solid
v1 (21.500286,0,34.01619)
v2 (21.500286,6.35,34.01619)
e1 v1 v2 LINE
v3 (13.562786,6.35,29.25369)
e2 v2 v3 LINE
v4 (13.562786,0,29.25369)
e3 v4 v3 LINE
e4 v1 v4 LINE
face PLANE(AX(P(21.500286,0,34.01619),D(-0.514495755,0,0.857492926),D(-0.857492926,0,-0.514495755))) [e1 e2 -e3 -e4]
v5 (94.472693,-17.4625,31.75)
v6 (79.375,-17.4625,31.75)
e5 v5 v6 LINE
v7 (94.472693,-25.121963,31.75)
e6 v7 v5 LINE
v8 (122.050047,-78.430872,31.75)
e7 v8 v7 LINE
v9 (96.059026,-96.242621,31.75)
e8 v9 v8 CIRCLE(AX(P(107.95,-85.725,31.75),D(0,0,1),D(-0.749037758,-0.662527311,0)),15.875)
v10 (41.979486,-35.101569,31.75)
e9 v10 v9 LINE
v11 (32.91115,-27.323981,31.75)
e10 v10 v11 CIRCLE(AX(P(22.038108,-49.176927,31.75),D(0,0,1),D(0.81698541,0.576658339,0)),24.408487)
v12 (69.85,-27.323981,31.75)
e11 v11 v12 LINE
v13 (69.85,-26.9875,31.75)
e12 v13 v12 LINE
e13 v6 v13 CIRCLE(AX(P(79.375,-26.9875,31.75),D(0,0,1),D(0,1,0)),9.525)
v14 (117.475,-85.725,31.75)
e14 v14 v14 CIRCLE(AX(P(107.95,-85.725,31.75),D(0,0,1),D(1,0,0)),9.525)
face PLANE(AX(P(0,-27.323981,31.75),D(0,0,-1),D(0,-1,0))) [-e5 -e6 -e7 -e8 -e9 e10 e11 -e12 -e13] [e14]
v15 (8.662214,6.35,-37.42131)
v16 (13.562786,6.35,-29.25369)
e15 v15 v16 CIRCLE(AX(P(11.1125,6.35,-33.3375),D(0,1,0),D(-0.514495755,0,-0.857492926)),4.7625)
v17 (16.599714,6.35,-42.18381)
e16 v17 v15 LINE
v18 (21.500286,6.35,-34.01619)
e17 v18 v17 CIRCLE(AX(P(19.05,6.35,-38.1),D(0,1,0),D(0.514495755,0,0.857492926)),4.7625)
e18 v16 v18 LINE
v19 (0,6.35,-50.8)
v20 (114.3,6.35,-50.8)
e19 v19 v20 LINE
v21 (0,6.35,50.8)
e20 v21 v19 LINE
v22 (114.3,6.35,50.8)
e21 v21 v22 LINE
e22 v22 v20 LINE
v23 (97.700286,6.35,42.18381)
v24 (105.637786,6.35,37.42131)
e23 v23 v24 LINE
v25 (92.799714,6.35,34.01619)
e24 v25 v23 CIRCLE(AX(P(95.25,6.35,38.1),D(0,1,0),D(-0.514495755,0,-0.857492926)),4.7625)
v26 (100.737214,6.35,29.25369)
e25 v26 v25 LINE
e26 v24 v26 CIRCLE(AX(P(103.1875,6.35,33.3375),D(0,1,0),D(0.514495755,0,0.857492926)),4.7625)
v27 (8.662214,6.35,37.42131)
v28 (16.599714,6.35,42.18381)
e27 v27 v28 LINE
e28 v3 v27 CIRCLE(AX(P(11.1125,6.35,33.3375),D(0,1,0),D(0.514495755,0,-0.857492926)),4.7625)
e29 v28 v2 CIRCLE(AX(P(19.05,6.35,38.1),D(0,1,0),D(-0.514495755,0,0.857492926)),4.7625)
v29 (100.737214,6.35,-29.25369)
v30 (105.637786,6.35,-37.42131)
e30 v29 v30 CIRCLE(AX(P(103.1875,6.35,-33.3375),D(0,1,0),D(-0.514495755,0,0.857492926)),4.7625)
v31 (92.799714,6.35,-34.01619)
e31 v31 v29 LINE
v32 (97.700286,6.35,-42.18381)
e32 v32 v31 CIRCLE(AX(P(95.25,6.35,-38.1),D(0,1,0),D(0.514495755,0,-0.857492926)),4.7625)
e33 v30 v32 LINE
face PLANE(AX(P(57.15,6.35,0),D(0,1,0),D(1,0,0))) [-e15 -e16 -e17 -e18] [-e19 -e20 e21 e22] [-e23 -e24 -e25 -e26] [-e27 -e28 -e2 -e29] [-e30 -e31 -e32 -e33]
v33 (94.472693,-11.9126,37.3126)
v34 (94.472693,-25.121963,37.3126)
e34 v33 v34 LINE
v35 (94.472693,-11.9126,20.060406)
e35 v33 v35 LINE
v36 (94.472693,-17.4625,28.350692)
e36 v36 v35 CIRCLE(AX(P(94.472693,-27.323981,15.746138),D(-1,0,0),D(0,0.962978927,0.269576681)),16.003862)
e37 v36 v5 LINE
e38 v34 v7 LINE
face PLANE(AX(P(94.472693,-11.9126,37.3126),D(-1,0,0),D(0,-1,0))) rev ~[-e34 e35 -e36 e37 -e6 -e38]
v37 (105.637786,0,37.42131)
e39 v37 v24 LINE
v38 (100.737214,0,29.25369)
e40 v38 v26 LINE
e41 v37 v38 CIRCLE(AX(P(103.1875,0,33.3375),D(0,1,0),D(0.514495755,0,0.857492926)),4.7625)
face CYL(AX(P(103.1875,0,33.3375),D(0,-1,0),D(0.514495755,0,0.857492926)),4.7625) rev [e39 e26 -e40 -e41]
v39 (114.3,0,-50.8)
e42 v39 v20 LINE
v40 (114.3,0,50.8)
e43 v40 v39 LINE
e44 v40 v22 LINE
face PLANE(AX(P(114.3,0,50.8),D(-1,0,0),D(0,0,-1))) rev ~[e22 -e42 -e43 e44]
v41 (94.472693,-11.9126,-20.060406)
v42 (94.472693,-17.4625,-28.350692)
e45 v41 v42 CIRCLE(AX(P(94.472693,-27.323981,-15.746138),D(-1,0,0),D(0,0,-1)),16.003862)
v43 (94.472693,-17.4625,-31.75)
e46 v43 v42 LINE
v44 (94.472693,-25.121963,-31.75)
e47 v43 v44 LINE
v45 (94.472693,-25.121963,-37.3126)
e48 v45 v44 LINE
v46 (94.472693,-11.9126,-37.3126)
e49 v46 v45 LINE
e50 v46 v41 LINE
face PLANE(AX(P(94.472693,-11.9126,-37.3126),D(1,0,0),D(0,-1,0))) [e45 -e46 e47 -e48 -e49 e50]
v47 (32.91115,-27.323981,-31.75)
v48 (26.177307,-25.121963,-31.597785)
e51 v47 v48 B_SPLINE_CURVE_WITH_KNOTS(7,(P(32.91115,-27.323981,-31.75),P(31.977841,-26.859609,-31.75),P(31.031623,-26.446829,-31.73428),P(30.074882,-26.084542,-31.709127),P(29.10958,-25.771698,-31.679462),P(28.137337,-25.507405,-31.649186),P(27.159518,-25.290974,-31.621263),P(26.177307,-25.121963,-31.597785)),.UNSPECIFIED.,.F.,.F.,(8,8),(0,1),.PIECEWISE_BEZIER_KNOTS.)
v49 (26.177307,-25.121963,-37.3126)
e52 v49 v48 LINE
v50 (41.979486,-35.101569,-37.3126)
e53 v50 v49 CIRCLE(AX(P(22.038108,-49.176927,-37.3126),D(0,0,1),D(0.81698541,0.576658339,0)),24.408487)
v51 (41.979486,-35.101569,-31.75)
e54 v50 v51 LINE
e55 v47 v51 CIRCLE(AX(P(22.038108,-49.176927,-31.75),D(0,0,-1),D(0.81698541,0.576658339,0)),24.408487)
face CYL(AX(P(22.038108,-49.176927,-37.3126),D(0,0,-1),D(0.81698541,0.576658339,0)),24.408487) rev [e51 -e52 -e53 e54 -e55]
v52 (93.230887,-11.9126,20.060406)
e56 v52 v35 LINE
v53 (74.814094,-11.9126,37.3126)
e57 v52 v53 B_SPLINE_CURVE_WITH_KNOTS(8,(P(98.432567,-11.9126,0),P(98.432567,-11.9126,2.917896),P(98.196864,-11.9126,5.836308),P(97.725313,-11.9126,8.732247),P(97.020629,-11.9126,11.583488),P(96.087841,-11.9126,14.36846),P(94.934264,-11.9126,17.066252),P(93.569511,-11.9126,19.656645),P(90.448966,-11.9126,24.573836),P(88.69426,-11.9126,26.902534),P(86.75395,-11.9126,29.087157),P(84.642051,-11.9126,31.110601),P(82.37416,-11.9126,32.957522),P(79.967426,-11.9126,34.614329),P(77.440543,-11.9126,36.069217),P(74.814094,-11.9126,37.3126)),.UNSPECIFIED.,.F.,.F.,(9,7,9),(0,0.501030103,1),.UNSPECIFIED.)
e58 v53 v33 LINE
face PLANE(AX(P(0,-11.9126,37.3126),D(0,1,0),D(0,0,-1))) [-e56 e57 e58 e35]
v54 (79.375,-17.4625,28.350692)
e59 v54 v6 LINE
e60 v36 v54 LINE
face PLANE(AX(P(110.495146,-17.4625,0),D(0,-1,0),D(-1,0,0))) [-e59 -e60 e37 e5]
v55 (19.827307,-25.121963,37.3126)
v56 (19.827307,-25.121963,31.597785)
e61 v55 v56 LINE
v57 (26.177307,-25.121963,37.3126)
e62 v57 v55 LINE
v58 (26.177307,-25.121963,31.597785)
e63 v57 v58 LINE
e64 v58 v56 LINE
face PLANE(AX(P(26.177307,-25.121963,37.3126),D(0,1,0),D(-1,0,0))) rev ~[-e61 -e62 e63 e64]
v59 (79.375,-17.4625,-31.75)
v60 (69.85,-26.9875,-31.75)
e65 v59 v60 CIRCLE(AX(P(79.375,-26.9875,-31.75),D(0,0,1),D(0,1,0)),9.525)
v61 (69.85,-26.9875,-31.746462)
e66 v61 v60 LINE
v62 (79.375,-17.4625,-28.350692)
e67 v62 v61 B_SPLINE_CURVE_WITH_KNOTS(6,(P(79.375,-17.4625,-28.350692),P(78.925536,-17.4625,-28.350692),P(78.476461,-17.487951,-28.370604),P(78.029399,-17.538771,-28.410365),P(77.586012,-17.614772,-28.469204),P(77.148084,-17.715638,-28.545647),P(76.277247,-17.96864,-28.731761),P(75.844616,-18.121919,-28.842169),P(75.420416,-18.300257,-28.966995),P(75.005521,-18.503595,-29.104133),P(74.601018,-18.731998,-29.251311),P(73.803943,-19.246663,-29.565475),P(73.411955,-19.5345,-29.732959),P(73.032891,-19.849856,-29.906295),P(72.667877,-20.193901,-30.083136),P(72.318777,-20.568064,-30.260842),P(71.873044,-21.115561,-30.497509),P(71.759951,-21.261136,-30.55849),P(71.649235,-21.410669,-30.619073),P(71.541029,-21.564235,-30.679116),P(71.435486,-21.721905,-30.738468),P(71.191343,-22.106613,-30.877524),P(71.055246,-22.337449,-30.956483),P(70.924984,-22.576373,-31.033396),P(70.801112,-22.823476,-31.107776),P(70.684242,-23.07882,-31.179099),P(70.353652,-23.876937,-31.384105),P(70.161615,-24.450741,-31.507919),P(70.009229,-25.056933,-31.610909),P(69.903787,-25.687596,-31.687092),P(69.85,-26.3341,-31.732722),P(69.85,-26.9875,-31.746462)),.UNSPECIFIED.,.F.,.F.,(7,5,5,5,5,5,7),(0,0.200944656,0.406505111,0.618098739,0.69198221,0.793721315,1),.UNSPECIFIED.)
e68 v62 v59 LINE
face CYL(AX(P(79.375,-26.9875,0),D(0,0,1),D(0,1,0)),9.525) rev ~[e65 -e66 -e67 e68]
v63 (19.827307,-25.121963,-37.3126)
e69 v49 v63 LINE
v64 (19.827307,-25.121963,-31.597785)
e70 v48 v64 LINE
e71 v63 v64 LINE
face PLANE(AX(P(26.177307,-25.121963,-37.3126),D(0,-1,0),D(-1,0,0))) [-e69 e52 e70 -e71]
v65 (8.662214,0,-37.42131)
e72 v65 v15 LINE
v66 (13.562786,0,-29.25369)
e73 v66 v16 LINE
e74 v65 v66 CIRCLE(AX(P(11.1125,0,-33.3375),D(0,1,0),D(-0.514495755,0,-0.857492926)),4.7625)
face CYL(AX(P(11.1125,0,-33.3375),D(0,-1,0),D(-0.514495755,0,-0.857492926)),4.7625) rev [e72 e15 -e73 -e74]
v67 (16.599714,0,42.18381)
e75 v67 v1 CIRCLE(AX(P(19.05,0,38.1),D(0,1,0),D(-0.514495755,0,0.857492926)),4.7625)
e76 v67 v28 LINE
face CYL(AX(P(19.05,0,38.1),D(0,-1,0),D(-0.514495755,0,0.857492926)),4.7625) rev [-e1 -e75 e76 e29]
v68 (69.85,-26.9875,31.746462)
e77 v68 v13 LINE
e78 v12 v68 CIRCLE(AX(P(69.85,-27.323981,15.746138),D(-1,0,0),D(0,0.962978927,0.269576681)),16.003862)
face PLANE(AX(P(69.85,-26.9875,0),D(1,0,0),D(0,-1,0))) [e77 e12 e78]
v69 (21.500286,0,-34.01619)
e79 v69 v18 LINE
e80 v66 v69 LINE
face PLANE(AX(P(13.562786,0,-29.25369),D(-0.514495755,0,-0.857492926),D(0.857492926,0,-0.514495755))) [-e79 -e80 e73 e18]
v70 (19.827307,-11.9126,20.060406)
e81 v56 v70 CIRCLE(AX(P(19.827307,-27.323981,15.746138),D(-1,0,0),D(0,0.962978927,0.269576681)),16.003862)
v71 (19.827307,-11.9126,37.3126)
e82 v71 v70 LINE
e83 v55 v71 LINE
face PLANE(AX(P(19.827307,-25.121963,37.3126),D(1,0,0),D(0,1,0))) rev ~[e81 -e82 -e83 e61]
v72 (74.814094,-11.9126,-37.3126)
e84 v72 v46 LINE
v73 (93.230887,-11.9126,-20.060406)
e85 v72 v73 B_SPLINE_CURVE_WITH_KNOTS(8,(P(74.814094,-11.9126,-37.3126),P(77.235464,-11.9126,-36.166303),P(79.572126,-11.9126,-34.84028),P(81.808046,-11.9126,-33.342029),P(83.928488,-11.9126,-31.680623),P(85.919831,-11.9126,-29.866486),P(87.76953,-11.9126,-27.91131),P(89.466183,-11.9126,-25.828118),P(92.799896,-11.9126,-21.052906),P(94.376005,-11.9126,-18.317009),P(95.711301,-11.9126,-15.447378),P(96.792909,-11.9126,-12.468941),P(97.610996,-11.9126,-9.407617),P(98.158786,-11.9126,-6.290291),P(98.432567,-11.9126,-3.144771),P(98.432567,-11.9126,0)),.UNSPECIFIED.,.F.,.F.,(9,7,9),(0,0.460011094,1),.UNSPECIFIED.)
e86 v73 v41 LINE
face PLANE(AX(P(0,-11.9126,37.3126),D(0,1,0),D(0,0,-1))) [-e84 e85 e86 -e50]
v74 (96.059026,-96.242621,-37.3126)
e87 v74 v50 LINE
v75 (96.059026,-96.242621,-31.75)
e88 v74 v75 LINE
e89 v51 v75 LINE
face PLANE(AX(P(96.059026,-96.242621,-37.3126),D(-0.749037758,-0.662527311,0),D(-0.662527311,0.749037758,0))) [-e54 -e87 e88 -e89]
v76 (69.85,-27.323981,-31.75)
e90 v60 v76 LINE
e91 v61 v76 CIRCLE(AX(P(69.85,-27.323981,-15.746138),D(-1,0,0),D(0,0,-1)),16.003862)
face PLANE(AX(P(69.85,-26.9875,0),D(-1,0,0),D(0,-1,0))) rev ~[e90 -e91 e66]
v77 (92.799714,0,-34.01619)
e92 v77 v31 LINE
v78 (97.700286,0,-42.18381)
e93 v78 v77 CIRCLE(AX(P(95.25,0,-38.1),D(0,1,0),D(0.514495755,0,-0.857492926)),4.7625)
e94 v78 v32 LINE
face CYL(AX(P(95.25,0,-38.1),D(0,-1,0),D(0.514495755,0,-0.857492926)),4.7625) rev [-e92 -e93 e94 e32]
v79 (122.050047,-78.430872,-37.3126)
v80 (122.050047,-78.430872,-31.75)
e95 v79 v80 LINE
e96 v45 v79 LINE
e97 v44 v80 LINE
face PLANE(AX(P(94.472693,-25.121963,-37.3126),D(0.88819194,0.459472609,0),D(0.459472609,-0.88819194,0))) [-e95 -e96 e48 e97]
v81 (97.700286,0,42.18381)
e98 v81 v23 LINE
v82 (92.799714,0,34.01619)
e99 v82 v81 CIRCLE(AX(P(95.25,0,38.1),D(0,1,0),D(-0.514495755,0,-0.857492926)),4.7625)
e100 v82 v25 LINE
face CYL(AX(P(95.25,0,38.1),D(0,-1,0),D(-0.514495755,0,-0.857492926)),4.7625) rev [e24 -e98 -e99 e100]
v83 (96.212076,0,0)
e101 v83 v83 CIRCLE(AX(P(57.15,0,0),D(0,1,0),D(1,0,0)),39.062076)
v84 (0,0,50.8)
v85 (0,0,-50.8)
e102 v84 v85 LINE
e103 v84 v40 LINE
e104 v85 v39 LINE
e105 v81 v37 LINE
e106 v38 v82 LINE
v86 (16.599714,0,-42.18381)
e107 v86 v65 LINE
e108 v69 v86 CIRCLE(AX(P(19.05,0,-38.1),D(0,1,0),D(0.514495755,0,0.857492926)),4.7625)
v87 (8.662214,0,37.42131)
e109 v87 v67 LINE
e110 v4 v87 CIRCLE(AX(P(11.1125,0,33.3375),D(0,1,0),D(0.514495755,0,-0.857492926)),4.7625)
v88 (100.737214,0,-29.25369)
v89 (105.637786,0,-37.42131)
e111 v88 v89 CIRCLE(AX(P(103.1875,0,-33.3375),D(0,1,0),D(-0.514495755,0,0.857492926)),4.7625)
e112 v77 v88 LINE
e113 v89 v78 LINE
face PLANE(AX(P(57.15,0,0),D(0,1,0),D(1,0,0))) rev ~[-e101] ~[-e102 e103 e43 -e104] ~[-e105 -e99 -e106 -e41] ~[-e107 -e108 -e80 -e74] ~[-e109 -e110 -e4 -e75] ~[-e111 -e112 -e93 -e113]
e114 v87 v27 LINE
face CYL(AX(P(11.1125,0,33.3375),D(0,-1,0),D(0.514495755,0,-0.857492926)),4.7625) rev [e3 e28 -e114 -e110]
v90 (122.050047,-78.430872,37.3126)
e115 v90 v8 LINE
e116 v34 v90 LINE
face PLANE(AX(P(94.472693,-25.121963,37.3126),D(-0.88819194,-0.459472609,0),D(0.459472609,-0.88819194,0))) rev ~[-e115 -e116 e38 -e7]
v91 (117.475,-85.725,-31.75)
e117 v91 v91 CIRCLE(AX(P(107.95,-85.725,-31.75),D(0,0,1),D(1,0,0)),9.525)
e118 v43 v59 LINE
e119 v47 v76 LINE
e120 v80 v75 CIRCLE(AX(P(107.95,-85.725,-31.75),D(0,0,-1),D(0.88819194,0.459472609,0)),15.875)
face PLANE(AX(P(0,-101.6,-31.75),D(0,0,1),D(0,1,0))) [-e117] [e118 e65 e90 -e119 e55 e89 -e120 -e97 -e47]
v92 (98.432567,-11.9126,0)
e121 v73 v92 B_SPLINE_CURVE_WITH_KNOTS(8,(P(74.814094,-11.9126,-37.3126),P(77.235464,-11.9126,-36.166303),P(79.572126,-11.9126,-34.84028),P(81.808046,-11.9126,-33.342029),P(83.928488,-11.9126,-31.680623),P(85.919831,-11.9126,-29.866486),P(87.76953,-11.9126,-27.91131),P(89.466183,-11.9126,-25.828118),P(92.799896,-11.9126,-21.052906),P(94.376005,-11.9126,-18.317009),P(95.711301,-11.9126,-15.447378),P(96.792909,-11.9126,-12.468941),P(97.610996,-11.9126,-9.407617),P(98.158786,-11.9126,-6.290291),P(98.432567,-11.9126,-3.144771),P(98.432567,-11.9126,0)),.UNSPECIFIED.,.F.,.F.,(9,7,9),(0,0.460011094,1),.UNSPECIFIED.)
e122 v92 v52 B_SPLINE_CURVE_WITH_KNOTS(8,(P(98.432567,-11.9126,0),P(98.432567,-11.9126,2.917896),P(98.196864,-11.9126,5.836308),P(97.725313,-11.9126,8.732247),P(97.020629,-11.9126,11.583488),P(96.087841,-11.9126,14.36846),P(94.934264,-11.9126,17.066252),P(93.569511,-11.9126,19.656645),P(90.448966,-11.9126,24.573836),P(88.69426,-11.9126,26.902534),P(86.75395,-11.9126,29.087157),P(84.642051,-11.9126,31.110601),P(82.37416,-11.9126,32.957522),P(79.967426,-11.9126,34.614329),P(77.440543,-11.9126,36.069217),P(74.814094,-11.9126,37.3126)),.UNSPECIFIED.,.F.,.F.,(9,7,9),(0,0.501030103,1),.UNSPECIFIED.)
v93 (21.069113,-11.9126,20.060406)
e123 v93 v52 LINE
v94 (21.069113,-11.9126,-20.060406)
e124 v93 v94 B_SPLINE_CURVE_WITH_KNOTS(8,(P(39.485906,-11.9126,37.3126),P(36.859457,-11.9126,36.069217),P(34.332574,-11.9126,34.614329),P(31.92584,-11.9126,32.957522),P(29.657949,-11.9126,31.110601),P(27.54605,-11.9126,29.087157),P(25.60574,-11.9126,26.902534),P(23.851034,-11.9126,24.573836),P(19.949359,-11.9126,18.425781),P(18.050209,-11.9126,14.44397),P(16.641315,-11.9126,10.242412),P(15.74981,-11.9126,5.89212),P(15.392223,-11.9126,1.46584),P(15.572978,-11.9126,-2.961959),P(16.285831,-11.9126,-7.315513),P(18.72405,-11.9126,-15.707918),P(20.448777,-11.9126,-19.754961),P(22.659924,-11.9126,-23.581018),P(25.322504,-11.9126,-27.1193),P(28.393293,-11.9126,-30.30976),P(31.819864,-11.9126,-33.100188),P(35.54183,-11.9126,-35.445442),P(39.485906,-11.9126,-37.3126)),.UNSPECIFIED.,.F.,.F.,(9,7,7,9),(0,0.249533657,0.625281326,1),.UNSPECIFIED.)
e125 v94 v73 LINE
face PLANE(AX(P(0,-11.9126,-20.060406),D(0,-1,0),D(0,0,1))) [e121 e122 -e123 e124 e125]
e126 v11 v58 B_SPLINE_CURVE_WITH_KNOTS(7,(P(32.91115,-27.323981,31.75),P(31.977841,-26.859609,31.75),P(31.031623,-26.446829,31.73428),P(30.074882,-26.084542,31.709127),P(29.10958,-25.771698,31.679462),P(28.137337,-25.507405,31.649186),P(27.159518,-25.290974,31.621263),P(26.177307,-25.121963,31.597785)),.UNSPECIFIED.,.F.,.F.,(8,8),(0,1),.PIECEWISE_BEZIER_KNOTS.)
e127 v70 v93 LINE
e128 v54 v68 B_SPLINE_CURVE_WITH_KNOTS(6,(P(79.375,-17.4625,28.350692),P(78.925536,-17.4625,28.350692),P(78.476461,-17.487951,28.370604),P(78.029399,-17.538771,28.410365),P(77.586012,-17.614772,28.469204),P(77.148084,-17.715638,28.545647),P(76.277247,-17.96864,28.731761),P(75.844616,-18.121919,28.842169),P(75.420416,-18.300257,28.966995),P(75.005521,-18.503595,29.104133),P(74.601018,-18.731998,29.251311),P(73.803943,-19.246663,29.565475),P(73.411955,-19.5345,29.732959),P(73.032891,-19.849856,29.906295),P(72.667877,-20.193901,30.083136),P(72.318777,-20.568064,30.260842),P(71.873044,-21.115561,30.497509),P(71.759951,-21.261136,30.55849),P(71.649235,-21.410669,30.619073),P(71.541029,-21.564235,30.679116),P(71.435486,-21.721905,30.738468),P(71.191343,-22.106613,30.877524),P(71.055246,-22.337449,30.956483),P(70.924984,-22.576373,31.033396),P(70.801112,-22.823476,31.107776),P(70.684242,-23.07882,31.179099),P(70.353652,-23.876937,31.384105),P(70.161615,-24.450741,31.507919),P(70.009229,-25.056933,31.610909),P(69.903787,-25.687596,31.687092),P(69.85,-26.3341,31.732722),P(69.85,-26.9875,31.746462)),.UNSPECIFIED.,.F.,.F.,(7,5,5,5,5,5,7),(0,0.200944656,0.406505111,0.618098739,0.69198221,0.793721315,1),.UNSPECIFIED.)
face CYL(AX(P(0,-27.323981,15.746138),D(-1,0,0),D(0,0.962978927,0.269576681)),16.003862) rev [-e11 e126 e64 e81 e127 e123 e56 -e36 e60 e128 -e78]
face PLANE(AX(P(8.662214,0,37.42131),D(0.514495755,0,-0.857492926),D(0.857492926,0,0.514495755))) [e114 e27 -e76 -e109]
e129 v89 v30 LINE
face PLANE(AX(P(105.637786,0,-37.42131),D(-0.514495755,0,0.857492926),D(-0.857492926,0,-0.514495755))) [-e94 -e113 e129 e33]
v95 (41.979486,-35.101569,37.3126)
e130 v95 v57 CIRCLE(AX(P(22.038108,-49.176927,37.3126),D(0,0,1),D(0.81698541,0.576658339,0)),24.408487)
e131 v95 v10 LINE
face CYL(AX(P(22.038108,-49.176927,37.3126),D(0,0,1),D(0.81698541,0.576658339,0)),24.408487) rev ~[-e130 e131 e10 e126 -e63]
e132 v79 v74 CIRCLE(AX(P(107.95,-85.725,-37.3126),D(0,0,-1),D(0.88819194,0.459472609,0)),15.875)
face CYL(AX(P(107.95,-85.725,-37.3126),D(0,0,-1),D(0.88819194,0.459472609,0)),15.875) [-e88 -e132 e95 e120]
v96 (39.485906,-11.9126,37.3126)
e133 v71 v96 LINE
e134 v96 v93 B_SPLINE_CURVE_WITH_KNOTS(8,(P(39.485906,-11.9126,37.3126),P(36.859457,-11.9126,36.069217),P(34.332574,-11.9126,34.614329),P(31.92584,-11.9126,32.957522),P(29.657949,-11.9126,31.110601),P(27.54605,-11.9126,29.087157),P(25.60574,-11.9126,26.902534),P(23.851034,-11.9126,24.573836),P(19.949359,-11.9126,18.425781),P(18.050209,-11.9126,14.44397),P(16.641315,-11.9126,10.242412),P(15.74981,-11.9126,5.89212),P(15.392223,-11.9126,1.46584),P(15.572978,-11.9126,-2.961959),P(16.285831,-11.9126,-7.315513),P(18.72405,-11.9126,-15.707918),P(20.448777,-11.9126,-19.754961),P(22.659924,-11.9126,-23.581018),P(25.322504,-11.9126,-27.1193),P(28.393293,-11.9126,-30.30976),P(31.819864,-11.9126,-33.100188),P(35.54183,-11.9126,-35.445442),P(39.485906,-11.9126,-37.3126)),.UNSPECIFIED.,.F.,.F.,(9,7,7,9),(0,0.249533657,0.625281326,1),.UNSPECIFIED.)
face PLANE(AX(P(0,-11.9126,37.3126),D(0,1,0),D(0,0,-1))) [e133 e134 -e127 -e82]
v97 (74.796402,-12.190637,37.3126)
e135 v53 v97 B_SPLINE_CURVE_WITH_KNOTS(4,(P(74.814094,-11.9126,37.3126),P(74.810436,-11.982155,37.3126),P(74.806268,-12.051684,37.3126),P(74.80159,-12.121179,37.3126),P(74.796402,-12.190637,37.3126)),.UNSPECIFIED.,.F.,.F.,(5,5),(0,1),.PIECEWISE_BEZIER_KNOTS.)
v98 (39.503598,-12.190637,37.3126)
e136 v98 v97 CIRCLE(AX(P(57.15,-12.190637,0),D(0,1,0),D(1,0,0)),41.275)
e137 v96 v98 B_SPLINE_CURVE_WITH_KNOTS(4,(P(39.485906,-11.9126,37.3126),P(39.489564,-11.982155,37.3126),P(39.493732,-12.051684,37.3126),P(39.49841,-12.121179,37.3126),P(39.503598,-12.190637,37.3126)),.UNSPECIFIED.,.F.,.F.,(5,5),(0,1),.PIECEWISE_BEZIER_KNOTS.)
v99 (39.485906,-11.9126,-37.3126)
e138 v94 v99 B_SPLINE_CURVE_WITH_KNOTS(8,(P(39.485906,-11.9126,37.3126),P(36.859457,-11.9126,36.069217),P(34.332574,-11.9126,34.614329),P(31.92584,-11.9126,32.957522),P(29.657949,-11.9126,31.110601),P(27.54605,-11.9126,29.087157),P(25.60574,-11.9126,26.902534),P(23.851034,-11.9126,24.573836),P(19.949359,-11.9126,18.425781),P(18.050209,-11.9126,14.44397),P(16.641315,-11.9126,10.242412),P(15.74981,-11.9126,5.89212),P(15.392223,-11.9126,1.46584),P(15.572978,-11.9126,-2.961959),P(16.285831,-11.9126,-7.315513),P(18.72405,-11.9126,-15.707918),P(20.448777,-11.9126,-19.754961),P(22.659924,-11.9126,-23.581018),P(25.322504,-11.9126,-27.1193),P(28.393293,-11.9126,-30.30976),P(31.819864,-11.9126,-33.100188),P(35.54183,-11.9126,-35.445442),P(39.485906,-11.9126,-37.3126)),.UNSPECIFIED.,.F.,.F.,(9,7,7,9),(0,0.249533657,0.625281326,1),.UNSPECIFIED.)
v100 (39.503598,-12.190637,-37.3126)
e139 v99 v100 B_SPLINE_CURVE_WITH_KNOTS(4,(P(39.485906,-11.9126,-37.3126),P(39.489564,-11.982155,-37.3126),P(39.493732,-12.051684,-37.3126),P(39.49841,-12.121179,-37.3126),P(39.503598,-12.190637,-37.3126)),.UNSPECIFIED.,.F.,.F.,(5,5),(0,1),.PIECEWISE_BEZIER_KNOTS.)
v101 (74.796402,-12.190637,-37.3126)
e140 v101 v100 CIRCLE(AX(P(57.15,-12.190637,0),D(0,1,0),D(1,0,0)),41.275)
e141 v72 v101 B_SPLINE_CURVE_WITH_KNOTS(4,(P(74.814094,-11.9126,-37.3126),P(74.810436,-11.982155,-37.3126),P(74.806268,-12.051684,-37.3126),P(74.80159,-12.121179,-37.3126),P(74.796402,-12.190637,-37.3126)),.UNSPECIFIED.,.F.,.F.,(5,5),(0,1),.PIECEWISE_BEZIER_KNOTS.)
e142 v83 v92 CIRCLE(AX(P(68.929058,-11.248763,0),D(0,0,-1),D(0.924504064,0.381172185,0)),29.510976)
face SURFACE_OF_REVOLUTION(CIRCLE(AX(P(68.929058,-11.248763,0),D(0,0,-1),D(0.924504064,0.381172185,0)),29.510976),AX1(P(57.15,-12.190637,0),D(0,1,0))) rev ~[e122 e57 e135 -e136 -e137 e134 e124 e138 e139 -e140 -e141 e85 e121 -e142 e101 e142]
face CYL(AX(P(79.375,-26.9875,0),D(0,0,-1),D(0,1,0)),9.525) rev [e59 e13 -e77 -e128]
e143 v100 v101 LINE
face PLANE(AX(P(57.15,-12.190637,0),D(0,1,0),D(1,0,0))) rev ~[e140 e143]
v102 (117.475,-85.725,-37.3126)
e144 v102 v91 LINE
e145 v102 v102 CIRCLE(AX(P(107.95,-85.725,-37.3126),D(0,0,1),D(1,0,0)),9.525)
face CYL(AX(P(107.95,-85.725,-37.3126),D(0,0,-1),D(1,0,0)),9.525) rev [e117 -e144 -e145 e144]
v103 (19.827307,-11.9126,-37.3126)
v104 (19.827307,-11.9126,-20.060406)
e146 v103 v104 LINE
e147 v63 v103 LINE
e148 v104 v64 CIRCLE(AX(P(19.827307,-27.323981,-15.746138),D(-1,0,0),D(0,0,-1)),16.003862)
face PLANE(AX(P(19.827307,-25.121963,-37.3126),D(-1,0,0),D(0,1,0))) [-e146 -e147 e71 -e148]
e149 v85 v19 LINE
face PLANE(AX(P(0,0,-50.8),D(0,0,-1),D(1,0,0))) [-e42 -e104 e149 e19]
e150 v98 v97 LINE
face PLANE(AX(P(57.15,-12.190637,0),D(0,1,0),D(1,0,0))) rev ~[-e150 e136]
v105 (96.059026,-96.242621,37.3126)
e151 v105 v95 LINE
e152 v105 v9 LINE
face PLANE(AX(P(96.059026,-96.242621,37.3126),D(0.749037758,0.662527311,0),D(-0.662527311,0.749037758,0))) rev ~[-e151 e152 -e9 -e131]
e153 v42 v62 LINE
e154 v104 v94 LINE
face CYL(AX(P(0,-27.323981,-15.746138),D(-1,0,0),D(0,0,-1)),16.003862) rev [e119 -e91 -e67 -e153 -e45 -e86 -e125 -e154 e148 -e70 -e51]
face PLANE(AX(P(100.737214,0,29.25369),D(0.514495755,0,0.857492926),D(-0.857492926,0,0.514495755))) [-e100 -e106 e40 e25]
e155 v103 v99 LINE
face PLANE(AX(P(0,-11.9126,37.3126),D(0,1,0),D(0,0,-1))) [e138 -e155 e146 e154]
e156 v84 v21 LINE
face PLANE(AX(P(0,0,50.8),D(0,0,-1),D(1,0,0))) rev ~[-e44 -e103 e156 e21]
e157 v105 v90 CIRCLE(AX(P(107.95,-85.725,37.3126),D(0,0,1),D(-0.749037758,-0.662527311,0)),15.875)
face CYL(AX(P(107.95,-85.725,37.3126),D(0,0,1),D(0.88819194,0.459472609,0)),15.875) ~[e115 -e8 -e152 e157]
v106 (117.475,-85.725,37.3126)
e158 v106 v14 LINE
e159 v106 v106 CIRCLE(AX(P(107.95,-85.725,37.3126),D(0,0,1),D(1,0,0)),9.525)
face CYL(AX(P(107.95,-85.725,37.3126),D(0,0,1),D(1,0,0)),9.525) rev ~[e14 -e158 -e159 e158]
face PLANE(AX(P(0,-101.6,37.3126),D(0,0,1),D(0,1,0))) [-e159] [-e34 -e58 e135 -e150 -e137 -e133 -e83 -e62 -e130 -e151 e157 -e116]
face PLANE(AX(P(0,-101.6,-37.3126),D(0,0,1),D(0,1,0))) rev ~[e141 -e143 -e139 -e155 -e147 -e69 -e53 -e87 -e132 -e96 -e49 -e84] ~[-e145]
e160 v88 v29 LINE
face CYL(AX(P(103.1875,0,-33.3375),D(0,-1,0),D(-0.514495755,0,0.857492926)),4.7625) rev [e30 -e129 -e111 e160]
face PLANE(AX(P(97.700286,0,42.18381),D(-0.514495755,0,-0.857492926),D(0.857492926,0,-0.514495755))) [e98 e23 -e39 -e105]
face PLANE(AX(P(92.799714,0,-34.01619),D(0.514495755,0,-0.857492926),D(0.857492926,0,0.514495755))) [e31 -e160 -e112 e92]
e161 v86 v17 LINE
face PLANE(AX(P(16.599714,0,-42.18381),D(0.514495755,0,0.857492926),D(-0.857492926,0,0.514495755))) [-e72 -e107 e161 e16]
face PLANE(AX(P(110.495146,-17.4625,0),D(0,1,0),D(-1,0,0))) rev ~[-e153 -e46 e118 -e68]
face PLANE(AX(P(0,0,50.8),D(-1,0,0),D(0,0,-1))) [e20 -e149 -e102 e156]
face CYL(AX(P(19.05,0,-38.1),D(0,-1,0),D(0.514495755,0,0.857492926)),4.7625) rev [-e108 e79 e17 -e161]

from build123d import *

# Parameters (mm, degrees)
ESBO_O1_W                  = 114.3
ESBO_O1_H                  = 101.6
RESSALTO_EXTRUS_O1_DEPTH   = 6.35
ESBO_O3_W                  = 74.6252
ESBO_O3_H                  = 89.6874
RESSALTO_EXTRUS_O2_DEPTH   = 129.54
CORTE_EXTRUS_O1_DEPTH      = 129.54
CORTE_EXTRUS_O2_DEPTH      = 17.78
CORTE_EXTRUS_O3_DEPTH      = 17.78
ESBO_O7_R                  = 9.525
CORTE_EXTRUS_O4_DEPTH      = 5.5626
ESBO_O8_R                  = 9.525
CORTE_EXTRUS_O5_DEPTH      = 5.5626
CORTE_EXTRUS_O6_DEPTH      = 31.75
CORTE_EXTRUS_O6_DEPTH_BACK = 31.75


with BuildPart() as part:
    # Esboço1 → Ressalto-extrusão1 (new body)
    with BuildSketch(Plane(origin=(0, 0, 0), x_dir=(1, 0, 0), z_dir=(0, 1, 0))):
        with Locations((57.15, 0)):
            Rectangle(ESBO_O1_W, ESBO_O1_H)
        with BuildLine():
            Line((92.799713965, 34.016189941), (100.737213965, 29.253689941))
            ThreePointArc((100.737213965, 29.253689941), (107.271310059, 30.887213965), (105.637786035, 37.421310059))
            Line((105.637786035, 37.421310059), (97.700286035, 42.183810059))
            ThreePointArc((97.700286035, 42.183810059), (91.166189941, 40.550286035), (92.799713965, 34.016189941))
        make_face(mode=Mode.SUBTRACT)
        with BuildLine():
            Line((97.700286035, -42.183810059), (105.637786035, -37.421310059))
            ThreePointArc((105.637786035, -37.421310059), (107.271310059, -30.887213965), (100.737213965, -29.253689941))
            Line((100.737213965, -29.253689941), (92.799713965, -34.016189941))
            ThreePointArc((92.799713965, -34.016189941), (91.166189941, -40.550286035), (97.700286035, -42.183810059))
        make_face(mode=Mode.SUBTRACT)
        with BuildLine():
            Line((13.562786035, 29.253689941), (21.500286035, 34.016189941))
            ThreePointArc((21.500286035, 34.016189941), (23.133810059, 40.550286035), (16.599713965, 42.183810059))
            Line((16.599713965, 42.183810059), (8.662213965, 37.421310059))
            ThreePointArc((8.662213965, 37.421310059), (7.028689941, 30.887213965), (13.562786035, 29.253689941))
        make_face(mode=Mode.SUBTRACT)
        with BuildLine():
            Line((8.662213965, -37.421310059), (16.599713965, -42.183810059))
            ThreePointArc((16.599713965, -42.183810059), (23.133810059, -40.550286035), (21.500286035, -34.016189941))
            Line((21.500286035, -34.016189941), (13.562786035, -29.253689941))
            ThreePointArc((13.562786035, -29.253689941), (7.028689941, -30.887213965), (8.662213965, -37.421310059))
        make_face(mode=Mode.SUBTRACT)
    extrude(amount=RESSALTO_EXTRUS_O1_DEPTH)

    # Esboço2 → Revolução1 (revolve)
    with BuildSketch(Plane.XY):
        with BuildLine():
            Line((57.15, 0), (96.212075536, 0))
            ThreePointArc((96.212075536, 0), (97.965508733, -5.977876228), (98.425, -12.190637285))
            Line((98.425, -12.190637285), (57.15, -12.190637285))
            Line((57.15, -12.190637285), (57.15, 0))
        make_face()
    revolve(axis=Axis((57.15, -12.190637285, 0), (0, 1, 0)))

    # Esboço3 → Ressalto-extrusão2 (add)
    with BuildSketch(Plane(origin=(0, 0, 0), x_dir=(0, 0, -1), z_dir=(1, 0, 0))):
        with Locations((0, -56.7563)):
            Rectangle(ESBO_O3_W, ESBO_O3_H)
    extrude(amount=RESSALTO_EXTRUS_O2_DEPTH)

    # Esboço4 → Corte-extrusão1 (cut)
    with BuildSketch(Plane(origin=(0, 0, 0), x_dir=(0, 0, -1), z_dir=(1, 0, 0))):
        with BuildLine():
            Line((-31.75, -27.323981416), (-31.75, -101.6))
            Line((-31.75, -101.6), (31.75, -101.6))
            Line((31.75, -101.6), (31.75, -27.323981416))
            ThreePointArc((31.75, -27.323981416), (28.496991957, -17.652408672), (20.060406327, -11.9126))
            Line((20.060406327, -11.9126), (-20.060406327, -11.9126))
            ThreePointArc((-20.060406327, -11.9126), (-28.496991957, -17.652408672), (-31.75, -27.323981416))
        make_face()
    extrude(amount=CORTE_EXTRUS_O1_DEPTH, mode=Mode.SUBTRACT)

    # Esboço5 → Corte-extrusão2 (cut)
    with BuildSketch(Plane.XY.offset(37.3126)):
        with BuildLine():
            Line((0, -11.9126), (0, -113.5126))
            Line((0, -113.5126), (129.54, -113.5126))
            Line((129.54, -113.5126), (129.54, -11.9126))
            Line((129.54, -11.9126), (94.472692749, -11.9126))
            Line((94.472692749, -11.9126), (94.472692749, -25.121962715))
            Line((94.472692749, -25.121962715), (122.05004704, -78.430872329))
            ThreePointArc((122.05004704, -78.430872329), (116.924107122, -98.820076417), (96.059025593, -96.242621055))
            Line((96.059025593, -96.242621055), (41.979486254, -35.10156883))
            ThreePointArc((41.979486254, -35.10156883), (35.071399527, -28.539398345), (26.177307251, -25.121962715))
            Line((26.177307251, -25.121962715), (19.827307251, -25.121962715))
            Line((19.827307251, -25.121962715), (19.827307251, -11.9126))
            Line((19.827307251, -11.9126), (0, -11.9126))
        make_face()
    extrude(amount=-CORTE_EXTRUS_O2_DEPTH, mode=Mode.SUBTRACT)

    # Esboço6 → Corte-extrusão3 (cut)
    with BuildSketch(Plane.XY.offset(-37.3126)):
        with BuildLine():
            Line((0, -11.9126), (0, -113.5126))
            Line((0, -113.5126), (129.54, -113.5126))
            Line((129.54, -113.5126), (129.54, -11.9126))
            Line((129.54, -11.9126), (94.472692749, -11.9126))
            Line((94.472692749, -11.9126), (94.472692749, -25.121962715))
            Line((94.472692749, -25.121962715), (122.05004704, -78.430872329))
            ThreePointArc((122.05004704, -78.430872329), (116.924107122, -98.820076417), (96.059025593, -96.242621055))
            Line((96.059025593, -96.242621055), (41.979486254, -35.10156883))
            ThreePointArc((41.979486254, -35.10156883), (35.071399527, -28.539398345), (26.177307251, -25.121962715))
            Line((26.177307251, -25.121962715), (19.827307251, -25.121962715))
            Line((19.827307251, -25.121962715), (19.827307251, -11.9126))
            Line((19.827307251, -11.9126), (0, -11.9126))
        make_face()
    extrude(amount=CORTE_EXTRUS_O3_DEPTH, mode=Mode.SUBTRACT)

    # Esboço7 → Corte-extrusão4 (cut)
    with BuildSketch(Plane.XY.offset(37.3126)):
        with Locations((107.95, -85.725)):
            Circle(ESBO_O7_R)
    extrude(amount=-CORTE_EXTRUS_O4_DEPTH, mode=Mode.SUBTRACT)

    # Esboço8 → Corte-extrusão5 (cut)
    with BuildSketch(Plane.XY.offset(-37.3126)):
        with Locations((107.95, -85.725)):
            Circle(ESBO_O8_R)
    extrude(amount=CORTE_EXTRUS_O5_DEPTH, mode=Mode.SUBTRACT)

    # Esboço9 → Corte-extrusão6 (cut, two sides)
    with BuildSketch(Plane.XY) as corte_extrus_o6_sk:
        with BuildLine():
            Line((79.375, -65.0875), (150.000604013, -65.0875))
            ThreePointArc((150.000604013, -65.0875), (166.323156329, -59.148596729), (175.012790586, -44.109097315))
            Line((175.012790586, -44.109097315), (110.495145555, -17.4625))
            Line((110.495145555, -17.4625), (79.375, -17.4625))
            ThreePointArc((79.375, -17.4625), (72.639807909, -20.252307909), (69.85, -26.9875))
            Line((69.85, -26.9875), (69.85, -55.5625))
            ThreePointArc((69.85, -55.5625), (72.639807909, -62.297692091), (79.375, -65.0875))
        make_face()
    extrude(amount=CORTE_EXTRUS_O6_DEPTH, mode=Mode.SUBTRACT)
    extrude(corte_extrus_o6_sk.sketch, amount=-CORTE_EXTRUS_O6_DEPTH_BACK, mode=Mode.SUBTRACT)


solid = part.part
